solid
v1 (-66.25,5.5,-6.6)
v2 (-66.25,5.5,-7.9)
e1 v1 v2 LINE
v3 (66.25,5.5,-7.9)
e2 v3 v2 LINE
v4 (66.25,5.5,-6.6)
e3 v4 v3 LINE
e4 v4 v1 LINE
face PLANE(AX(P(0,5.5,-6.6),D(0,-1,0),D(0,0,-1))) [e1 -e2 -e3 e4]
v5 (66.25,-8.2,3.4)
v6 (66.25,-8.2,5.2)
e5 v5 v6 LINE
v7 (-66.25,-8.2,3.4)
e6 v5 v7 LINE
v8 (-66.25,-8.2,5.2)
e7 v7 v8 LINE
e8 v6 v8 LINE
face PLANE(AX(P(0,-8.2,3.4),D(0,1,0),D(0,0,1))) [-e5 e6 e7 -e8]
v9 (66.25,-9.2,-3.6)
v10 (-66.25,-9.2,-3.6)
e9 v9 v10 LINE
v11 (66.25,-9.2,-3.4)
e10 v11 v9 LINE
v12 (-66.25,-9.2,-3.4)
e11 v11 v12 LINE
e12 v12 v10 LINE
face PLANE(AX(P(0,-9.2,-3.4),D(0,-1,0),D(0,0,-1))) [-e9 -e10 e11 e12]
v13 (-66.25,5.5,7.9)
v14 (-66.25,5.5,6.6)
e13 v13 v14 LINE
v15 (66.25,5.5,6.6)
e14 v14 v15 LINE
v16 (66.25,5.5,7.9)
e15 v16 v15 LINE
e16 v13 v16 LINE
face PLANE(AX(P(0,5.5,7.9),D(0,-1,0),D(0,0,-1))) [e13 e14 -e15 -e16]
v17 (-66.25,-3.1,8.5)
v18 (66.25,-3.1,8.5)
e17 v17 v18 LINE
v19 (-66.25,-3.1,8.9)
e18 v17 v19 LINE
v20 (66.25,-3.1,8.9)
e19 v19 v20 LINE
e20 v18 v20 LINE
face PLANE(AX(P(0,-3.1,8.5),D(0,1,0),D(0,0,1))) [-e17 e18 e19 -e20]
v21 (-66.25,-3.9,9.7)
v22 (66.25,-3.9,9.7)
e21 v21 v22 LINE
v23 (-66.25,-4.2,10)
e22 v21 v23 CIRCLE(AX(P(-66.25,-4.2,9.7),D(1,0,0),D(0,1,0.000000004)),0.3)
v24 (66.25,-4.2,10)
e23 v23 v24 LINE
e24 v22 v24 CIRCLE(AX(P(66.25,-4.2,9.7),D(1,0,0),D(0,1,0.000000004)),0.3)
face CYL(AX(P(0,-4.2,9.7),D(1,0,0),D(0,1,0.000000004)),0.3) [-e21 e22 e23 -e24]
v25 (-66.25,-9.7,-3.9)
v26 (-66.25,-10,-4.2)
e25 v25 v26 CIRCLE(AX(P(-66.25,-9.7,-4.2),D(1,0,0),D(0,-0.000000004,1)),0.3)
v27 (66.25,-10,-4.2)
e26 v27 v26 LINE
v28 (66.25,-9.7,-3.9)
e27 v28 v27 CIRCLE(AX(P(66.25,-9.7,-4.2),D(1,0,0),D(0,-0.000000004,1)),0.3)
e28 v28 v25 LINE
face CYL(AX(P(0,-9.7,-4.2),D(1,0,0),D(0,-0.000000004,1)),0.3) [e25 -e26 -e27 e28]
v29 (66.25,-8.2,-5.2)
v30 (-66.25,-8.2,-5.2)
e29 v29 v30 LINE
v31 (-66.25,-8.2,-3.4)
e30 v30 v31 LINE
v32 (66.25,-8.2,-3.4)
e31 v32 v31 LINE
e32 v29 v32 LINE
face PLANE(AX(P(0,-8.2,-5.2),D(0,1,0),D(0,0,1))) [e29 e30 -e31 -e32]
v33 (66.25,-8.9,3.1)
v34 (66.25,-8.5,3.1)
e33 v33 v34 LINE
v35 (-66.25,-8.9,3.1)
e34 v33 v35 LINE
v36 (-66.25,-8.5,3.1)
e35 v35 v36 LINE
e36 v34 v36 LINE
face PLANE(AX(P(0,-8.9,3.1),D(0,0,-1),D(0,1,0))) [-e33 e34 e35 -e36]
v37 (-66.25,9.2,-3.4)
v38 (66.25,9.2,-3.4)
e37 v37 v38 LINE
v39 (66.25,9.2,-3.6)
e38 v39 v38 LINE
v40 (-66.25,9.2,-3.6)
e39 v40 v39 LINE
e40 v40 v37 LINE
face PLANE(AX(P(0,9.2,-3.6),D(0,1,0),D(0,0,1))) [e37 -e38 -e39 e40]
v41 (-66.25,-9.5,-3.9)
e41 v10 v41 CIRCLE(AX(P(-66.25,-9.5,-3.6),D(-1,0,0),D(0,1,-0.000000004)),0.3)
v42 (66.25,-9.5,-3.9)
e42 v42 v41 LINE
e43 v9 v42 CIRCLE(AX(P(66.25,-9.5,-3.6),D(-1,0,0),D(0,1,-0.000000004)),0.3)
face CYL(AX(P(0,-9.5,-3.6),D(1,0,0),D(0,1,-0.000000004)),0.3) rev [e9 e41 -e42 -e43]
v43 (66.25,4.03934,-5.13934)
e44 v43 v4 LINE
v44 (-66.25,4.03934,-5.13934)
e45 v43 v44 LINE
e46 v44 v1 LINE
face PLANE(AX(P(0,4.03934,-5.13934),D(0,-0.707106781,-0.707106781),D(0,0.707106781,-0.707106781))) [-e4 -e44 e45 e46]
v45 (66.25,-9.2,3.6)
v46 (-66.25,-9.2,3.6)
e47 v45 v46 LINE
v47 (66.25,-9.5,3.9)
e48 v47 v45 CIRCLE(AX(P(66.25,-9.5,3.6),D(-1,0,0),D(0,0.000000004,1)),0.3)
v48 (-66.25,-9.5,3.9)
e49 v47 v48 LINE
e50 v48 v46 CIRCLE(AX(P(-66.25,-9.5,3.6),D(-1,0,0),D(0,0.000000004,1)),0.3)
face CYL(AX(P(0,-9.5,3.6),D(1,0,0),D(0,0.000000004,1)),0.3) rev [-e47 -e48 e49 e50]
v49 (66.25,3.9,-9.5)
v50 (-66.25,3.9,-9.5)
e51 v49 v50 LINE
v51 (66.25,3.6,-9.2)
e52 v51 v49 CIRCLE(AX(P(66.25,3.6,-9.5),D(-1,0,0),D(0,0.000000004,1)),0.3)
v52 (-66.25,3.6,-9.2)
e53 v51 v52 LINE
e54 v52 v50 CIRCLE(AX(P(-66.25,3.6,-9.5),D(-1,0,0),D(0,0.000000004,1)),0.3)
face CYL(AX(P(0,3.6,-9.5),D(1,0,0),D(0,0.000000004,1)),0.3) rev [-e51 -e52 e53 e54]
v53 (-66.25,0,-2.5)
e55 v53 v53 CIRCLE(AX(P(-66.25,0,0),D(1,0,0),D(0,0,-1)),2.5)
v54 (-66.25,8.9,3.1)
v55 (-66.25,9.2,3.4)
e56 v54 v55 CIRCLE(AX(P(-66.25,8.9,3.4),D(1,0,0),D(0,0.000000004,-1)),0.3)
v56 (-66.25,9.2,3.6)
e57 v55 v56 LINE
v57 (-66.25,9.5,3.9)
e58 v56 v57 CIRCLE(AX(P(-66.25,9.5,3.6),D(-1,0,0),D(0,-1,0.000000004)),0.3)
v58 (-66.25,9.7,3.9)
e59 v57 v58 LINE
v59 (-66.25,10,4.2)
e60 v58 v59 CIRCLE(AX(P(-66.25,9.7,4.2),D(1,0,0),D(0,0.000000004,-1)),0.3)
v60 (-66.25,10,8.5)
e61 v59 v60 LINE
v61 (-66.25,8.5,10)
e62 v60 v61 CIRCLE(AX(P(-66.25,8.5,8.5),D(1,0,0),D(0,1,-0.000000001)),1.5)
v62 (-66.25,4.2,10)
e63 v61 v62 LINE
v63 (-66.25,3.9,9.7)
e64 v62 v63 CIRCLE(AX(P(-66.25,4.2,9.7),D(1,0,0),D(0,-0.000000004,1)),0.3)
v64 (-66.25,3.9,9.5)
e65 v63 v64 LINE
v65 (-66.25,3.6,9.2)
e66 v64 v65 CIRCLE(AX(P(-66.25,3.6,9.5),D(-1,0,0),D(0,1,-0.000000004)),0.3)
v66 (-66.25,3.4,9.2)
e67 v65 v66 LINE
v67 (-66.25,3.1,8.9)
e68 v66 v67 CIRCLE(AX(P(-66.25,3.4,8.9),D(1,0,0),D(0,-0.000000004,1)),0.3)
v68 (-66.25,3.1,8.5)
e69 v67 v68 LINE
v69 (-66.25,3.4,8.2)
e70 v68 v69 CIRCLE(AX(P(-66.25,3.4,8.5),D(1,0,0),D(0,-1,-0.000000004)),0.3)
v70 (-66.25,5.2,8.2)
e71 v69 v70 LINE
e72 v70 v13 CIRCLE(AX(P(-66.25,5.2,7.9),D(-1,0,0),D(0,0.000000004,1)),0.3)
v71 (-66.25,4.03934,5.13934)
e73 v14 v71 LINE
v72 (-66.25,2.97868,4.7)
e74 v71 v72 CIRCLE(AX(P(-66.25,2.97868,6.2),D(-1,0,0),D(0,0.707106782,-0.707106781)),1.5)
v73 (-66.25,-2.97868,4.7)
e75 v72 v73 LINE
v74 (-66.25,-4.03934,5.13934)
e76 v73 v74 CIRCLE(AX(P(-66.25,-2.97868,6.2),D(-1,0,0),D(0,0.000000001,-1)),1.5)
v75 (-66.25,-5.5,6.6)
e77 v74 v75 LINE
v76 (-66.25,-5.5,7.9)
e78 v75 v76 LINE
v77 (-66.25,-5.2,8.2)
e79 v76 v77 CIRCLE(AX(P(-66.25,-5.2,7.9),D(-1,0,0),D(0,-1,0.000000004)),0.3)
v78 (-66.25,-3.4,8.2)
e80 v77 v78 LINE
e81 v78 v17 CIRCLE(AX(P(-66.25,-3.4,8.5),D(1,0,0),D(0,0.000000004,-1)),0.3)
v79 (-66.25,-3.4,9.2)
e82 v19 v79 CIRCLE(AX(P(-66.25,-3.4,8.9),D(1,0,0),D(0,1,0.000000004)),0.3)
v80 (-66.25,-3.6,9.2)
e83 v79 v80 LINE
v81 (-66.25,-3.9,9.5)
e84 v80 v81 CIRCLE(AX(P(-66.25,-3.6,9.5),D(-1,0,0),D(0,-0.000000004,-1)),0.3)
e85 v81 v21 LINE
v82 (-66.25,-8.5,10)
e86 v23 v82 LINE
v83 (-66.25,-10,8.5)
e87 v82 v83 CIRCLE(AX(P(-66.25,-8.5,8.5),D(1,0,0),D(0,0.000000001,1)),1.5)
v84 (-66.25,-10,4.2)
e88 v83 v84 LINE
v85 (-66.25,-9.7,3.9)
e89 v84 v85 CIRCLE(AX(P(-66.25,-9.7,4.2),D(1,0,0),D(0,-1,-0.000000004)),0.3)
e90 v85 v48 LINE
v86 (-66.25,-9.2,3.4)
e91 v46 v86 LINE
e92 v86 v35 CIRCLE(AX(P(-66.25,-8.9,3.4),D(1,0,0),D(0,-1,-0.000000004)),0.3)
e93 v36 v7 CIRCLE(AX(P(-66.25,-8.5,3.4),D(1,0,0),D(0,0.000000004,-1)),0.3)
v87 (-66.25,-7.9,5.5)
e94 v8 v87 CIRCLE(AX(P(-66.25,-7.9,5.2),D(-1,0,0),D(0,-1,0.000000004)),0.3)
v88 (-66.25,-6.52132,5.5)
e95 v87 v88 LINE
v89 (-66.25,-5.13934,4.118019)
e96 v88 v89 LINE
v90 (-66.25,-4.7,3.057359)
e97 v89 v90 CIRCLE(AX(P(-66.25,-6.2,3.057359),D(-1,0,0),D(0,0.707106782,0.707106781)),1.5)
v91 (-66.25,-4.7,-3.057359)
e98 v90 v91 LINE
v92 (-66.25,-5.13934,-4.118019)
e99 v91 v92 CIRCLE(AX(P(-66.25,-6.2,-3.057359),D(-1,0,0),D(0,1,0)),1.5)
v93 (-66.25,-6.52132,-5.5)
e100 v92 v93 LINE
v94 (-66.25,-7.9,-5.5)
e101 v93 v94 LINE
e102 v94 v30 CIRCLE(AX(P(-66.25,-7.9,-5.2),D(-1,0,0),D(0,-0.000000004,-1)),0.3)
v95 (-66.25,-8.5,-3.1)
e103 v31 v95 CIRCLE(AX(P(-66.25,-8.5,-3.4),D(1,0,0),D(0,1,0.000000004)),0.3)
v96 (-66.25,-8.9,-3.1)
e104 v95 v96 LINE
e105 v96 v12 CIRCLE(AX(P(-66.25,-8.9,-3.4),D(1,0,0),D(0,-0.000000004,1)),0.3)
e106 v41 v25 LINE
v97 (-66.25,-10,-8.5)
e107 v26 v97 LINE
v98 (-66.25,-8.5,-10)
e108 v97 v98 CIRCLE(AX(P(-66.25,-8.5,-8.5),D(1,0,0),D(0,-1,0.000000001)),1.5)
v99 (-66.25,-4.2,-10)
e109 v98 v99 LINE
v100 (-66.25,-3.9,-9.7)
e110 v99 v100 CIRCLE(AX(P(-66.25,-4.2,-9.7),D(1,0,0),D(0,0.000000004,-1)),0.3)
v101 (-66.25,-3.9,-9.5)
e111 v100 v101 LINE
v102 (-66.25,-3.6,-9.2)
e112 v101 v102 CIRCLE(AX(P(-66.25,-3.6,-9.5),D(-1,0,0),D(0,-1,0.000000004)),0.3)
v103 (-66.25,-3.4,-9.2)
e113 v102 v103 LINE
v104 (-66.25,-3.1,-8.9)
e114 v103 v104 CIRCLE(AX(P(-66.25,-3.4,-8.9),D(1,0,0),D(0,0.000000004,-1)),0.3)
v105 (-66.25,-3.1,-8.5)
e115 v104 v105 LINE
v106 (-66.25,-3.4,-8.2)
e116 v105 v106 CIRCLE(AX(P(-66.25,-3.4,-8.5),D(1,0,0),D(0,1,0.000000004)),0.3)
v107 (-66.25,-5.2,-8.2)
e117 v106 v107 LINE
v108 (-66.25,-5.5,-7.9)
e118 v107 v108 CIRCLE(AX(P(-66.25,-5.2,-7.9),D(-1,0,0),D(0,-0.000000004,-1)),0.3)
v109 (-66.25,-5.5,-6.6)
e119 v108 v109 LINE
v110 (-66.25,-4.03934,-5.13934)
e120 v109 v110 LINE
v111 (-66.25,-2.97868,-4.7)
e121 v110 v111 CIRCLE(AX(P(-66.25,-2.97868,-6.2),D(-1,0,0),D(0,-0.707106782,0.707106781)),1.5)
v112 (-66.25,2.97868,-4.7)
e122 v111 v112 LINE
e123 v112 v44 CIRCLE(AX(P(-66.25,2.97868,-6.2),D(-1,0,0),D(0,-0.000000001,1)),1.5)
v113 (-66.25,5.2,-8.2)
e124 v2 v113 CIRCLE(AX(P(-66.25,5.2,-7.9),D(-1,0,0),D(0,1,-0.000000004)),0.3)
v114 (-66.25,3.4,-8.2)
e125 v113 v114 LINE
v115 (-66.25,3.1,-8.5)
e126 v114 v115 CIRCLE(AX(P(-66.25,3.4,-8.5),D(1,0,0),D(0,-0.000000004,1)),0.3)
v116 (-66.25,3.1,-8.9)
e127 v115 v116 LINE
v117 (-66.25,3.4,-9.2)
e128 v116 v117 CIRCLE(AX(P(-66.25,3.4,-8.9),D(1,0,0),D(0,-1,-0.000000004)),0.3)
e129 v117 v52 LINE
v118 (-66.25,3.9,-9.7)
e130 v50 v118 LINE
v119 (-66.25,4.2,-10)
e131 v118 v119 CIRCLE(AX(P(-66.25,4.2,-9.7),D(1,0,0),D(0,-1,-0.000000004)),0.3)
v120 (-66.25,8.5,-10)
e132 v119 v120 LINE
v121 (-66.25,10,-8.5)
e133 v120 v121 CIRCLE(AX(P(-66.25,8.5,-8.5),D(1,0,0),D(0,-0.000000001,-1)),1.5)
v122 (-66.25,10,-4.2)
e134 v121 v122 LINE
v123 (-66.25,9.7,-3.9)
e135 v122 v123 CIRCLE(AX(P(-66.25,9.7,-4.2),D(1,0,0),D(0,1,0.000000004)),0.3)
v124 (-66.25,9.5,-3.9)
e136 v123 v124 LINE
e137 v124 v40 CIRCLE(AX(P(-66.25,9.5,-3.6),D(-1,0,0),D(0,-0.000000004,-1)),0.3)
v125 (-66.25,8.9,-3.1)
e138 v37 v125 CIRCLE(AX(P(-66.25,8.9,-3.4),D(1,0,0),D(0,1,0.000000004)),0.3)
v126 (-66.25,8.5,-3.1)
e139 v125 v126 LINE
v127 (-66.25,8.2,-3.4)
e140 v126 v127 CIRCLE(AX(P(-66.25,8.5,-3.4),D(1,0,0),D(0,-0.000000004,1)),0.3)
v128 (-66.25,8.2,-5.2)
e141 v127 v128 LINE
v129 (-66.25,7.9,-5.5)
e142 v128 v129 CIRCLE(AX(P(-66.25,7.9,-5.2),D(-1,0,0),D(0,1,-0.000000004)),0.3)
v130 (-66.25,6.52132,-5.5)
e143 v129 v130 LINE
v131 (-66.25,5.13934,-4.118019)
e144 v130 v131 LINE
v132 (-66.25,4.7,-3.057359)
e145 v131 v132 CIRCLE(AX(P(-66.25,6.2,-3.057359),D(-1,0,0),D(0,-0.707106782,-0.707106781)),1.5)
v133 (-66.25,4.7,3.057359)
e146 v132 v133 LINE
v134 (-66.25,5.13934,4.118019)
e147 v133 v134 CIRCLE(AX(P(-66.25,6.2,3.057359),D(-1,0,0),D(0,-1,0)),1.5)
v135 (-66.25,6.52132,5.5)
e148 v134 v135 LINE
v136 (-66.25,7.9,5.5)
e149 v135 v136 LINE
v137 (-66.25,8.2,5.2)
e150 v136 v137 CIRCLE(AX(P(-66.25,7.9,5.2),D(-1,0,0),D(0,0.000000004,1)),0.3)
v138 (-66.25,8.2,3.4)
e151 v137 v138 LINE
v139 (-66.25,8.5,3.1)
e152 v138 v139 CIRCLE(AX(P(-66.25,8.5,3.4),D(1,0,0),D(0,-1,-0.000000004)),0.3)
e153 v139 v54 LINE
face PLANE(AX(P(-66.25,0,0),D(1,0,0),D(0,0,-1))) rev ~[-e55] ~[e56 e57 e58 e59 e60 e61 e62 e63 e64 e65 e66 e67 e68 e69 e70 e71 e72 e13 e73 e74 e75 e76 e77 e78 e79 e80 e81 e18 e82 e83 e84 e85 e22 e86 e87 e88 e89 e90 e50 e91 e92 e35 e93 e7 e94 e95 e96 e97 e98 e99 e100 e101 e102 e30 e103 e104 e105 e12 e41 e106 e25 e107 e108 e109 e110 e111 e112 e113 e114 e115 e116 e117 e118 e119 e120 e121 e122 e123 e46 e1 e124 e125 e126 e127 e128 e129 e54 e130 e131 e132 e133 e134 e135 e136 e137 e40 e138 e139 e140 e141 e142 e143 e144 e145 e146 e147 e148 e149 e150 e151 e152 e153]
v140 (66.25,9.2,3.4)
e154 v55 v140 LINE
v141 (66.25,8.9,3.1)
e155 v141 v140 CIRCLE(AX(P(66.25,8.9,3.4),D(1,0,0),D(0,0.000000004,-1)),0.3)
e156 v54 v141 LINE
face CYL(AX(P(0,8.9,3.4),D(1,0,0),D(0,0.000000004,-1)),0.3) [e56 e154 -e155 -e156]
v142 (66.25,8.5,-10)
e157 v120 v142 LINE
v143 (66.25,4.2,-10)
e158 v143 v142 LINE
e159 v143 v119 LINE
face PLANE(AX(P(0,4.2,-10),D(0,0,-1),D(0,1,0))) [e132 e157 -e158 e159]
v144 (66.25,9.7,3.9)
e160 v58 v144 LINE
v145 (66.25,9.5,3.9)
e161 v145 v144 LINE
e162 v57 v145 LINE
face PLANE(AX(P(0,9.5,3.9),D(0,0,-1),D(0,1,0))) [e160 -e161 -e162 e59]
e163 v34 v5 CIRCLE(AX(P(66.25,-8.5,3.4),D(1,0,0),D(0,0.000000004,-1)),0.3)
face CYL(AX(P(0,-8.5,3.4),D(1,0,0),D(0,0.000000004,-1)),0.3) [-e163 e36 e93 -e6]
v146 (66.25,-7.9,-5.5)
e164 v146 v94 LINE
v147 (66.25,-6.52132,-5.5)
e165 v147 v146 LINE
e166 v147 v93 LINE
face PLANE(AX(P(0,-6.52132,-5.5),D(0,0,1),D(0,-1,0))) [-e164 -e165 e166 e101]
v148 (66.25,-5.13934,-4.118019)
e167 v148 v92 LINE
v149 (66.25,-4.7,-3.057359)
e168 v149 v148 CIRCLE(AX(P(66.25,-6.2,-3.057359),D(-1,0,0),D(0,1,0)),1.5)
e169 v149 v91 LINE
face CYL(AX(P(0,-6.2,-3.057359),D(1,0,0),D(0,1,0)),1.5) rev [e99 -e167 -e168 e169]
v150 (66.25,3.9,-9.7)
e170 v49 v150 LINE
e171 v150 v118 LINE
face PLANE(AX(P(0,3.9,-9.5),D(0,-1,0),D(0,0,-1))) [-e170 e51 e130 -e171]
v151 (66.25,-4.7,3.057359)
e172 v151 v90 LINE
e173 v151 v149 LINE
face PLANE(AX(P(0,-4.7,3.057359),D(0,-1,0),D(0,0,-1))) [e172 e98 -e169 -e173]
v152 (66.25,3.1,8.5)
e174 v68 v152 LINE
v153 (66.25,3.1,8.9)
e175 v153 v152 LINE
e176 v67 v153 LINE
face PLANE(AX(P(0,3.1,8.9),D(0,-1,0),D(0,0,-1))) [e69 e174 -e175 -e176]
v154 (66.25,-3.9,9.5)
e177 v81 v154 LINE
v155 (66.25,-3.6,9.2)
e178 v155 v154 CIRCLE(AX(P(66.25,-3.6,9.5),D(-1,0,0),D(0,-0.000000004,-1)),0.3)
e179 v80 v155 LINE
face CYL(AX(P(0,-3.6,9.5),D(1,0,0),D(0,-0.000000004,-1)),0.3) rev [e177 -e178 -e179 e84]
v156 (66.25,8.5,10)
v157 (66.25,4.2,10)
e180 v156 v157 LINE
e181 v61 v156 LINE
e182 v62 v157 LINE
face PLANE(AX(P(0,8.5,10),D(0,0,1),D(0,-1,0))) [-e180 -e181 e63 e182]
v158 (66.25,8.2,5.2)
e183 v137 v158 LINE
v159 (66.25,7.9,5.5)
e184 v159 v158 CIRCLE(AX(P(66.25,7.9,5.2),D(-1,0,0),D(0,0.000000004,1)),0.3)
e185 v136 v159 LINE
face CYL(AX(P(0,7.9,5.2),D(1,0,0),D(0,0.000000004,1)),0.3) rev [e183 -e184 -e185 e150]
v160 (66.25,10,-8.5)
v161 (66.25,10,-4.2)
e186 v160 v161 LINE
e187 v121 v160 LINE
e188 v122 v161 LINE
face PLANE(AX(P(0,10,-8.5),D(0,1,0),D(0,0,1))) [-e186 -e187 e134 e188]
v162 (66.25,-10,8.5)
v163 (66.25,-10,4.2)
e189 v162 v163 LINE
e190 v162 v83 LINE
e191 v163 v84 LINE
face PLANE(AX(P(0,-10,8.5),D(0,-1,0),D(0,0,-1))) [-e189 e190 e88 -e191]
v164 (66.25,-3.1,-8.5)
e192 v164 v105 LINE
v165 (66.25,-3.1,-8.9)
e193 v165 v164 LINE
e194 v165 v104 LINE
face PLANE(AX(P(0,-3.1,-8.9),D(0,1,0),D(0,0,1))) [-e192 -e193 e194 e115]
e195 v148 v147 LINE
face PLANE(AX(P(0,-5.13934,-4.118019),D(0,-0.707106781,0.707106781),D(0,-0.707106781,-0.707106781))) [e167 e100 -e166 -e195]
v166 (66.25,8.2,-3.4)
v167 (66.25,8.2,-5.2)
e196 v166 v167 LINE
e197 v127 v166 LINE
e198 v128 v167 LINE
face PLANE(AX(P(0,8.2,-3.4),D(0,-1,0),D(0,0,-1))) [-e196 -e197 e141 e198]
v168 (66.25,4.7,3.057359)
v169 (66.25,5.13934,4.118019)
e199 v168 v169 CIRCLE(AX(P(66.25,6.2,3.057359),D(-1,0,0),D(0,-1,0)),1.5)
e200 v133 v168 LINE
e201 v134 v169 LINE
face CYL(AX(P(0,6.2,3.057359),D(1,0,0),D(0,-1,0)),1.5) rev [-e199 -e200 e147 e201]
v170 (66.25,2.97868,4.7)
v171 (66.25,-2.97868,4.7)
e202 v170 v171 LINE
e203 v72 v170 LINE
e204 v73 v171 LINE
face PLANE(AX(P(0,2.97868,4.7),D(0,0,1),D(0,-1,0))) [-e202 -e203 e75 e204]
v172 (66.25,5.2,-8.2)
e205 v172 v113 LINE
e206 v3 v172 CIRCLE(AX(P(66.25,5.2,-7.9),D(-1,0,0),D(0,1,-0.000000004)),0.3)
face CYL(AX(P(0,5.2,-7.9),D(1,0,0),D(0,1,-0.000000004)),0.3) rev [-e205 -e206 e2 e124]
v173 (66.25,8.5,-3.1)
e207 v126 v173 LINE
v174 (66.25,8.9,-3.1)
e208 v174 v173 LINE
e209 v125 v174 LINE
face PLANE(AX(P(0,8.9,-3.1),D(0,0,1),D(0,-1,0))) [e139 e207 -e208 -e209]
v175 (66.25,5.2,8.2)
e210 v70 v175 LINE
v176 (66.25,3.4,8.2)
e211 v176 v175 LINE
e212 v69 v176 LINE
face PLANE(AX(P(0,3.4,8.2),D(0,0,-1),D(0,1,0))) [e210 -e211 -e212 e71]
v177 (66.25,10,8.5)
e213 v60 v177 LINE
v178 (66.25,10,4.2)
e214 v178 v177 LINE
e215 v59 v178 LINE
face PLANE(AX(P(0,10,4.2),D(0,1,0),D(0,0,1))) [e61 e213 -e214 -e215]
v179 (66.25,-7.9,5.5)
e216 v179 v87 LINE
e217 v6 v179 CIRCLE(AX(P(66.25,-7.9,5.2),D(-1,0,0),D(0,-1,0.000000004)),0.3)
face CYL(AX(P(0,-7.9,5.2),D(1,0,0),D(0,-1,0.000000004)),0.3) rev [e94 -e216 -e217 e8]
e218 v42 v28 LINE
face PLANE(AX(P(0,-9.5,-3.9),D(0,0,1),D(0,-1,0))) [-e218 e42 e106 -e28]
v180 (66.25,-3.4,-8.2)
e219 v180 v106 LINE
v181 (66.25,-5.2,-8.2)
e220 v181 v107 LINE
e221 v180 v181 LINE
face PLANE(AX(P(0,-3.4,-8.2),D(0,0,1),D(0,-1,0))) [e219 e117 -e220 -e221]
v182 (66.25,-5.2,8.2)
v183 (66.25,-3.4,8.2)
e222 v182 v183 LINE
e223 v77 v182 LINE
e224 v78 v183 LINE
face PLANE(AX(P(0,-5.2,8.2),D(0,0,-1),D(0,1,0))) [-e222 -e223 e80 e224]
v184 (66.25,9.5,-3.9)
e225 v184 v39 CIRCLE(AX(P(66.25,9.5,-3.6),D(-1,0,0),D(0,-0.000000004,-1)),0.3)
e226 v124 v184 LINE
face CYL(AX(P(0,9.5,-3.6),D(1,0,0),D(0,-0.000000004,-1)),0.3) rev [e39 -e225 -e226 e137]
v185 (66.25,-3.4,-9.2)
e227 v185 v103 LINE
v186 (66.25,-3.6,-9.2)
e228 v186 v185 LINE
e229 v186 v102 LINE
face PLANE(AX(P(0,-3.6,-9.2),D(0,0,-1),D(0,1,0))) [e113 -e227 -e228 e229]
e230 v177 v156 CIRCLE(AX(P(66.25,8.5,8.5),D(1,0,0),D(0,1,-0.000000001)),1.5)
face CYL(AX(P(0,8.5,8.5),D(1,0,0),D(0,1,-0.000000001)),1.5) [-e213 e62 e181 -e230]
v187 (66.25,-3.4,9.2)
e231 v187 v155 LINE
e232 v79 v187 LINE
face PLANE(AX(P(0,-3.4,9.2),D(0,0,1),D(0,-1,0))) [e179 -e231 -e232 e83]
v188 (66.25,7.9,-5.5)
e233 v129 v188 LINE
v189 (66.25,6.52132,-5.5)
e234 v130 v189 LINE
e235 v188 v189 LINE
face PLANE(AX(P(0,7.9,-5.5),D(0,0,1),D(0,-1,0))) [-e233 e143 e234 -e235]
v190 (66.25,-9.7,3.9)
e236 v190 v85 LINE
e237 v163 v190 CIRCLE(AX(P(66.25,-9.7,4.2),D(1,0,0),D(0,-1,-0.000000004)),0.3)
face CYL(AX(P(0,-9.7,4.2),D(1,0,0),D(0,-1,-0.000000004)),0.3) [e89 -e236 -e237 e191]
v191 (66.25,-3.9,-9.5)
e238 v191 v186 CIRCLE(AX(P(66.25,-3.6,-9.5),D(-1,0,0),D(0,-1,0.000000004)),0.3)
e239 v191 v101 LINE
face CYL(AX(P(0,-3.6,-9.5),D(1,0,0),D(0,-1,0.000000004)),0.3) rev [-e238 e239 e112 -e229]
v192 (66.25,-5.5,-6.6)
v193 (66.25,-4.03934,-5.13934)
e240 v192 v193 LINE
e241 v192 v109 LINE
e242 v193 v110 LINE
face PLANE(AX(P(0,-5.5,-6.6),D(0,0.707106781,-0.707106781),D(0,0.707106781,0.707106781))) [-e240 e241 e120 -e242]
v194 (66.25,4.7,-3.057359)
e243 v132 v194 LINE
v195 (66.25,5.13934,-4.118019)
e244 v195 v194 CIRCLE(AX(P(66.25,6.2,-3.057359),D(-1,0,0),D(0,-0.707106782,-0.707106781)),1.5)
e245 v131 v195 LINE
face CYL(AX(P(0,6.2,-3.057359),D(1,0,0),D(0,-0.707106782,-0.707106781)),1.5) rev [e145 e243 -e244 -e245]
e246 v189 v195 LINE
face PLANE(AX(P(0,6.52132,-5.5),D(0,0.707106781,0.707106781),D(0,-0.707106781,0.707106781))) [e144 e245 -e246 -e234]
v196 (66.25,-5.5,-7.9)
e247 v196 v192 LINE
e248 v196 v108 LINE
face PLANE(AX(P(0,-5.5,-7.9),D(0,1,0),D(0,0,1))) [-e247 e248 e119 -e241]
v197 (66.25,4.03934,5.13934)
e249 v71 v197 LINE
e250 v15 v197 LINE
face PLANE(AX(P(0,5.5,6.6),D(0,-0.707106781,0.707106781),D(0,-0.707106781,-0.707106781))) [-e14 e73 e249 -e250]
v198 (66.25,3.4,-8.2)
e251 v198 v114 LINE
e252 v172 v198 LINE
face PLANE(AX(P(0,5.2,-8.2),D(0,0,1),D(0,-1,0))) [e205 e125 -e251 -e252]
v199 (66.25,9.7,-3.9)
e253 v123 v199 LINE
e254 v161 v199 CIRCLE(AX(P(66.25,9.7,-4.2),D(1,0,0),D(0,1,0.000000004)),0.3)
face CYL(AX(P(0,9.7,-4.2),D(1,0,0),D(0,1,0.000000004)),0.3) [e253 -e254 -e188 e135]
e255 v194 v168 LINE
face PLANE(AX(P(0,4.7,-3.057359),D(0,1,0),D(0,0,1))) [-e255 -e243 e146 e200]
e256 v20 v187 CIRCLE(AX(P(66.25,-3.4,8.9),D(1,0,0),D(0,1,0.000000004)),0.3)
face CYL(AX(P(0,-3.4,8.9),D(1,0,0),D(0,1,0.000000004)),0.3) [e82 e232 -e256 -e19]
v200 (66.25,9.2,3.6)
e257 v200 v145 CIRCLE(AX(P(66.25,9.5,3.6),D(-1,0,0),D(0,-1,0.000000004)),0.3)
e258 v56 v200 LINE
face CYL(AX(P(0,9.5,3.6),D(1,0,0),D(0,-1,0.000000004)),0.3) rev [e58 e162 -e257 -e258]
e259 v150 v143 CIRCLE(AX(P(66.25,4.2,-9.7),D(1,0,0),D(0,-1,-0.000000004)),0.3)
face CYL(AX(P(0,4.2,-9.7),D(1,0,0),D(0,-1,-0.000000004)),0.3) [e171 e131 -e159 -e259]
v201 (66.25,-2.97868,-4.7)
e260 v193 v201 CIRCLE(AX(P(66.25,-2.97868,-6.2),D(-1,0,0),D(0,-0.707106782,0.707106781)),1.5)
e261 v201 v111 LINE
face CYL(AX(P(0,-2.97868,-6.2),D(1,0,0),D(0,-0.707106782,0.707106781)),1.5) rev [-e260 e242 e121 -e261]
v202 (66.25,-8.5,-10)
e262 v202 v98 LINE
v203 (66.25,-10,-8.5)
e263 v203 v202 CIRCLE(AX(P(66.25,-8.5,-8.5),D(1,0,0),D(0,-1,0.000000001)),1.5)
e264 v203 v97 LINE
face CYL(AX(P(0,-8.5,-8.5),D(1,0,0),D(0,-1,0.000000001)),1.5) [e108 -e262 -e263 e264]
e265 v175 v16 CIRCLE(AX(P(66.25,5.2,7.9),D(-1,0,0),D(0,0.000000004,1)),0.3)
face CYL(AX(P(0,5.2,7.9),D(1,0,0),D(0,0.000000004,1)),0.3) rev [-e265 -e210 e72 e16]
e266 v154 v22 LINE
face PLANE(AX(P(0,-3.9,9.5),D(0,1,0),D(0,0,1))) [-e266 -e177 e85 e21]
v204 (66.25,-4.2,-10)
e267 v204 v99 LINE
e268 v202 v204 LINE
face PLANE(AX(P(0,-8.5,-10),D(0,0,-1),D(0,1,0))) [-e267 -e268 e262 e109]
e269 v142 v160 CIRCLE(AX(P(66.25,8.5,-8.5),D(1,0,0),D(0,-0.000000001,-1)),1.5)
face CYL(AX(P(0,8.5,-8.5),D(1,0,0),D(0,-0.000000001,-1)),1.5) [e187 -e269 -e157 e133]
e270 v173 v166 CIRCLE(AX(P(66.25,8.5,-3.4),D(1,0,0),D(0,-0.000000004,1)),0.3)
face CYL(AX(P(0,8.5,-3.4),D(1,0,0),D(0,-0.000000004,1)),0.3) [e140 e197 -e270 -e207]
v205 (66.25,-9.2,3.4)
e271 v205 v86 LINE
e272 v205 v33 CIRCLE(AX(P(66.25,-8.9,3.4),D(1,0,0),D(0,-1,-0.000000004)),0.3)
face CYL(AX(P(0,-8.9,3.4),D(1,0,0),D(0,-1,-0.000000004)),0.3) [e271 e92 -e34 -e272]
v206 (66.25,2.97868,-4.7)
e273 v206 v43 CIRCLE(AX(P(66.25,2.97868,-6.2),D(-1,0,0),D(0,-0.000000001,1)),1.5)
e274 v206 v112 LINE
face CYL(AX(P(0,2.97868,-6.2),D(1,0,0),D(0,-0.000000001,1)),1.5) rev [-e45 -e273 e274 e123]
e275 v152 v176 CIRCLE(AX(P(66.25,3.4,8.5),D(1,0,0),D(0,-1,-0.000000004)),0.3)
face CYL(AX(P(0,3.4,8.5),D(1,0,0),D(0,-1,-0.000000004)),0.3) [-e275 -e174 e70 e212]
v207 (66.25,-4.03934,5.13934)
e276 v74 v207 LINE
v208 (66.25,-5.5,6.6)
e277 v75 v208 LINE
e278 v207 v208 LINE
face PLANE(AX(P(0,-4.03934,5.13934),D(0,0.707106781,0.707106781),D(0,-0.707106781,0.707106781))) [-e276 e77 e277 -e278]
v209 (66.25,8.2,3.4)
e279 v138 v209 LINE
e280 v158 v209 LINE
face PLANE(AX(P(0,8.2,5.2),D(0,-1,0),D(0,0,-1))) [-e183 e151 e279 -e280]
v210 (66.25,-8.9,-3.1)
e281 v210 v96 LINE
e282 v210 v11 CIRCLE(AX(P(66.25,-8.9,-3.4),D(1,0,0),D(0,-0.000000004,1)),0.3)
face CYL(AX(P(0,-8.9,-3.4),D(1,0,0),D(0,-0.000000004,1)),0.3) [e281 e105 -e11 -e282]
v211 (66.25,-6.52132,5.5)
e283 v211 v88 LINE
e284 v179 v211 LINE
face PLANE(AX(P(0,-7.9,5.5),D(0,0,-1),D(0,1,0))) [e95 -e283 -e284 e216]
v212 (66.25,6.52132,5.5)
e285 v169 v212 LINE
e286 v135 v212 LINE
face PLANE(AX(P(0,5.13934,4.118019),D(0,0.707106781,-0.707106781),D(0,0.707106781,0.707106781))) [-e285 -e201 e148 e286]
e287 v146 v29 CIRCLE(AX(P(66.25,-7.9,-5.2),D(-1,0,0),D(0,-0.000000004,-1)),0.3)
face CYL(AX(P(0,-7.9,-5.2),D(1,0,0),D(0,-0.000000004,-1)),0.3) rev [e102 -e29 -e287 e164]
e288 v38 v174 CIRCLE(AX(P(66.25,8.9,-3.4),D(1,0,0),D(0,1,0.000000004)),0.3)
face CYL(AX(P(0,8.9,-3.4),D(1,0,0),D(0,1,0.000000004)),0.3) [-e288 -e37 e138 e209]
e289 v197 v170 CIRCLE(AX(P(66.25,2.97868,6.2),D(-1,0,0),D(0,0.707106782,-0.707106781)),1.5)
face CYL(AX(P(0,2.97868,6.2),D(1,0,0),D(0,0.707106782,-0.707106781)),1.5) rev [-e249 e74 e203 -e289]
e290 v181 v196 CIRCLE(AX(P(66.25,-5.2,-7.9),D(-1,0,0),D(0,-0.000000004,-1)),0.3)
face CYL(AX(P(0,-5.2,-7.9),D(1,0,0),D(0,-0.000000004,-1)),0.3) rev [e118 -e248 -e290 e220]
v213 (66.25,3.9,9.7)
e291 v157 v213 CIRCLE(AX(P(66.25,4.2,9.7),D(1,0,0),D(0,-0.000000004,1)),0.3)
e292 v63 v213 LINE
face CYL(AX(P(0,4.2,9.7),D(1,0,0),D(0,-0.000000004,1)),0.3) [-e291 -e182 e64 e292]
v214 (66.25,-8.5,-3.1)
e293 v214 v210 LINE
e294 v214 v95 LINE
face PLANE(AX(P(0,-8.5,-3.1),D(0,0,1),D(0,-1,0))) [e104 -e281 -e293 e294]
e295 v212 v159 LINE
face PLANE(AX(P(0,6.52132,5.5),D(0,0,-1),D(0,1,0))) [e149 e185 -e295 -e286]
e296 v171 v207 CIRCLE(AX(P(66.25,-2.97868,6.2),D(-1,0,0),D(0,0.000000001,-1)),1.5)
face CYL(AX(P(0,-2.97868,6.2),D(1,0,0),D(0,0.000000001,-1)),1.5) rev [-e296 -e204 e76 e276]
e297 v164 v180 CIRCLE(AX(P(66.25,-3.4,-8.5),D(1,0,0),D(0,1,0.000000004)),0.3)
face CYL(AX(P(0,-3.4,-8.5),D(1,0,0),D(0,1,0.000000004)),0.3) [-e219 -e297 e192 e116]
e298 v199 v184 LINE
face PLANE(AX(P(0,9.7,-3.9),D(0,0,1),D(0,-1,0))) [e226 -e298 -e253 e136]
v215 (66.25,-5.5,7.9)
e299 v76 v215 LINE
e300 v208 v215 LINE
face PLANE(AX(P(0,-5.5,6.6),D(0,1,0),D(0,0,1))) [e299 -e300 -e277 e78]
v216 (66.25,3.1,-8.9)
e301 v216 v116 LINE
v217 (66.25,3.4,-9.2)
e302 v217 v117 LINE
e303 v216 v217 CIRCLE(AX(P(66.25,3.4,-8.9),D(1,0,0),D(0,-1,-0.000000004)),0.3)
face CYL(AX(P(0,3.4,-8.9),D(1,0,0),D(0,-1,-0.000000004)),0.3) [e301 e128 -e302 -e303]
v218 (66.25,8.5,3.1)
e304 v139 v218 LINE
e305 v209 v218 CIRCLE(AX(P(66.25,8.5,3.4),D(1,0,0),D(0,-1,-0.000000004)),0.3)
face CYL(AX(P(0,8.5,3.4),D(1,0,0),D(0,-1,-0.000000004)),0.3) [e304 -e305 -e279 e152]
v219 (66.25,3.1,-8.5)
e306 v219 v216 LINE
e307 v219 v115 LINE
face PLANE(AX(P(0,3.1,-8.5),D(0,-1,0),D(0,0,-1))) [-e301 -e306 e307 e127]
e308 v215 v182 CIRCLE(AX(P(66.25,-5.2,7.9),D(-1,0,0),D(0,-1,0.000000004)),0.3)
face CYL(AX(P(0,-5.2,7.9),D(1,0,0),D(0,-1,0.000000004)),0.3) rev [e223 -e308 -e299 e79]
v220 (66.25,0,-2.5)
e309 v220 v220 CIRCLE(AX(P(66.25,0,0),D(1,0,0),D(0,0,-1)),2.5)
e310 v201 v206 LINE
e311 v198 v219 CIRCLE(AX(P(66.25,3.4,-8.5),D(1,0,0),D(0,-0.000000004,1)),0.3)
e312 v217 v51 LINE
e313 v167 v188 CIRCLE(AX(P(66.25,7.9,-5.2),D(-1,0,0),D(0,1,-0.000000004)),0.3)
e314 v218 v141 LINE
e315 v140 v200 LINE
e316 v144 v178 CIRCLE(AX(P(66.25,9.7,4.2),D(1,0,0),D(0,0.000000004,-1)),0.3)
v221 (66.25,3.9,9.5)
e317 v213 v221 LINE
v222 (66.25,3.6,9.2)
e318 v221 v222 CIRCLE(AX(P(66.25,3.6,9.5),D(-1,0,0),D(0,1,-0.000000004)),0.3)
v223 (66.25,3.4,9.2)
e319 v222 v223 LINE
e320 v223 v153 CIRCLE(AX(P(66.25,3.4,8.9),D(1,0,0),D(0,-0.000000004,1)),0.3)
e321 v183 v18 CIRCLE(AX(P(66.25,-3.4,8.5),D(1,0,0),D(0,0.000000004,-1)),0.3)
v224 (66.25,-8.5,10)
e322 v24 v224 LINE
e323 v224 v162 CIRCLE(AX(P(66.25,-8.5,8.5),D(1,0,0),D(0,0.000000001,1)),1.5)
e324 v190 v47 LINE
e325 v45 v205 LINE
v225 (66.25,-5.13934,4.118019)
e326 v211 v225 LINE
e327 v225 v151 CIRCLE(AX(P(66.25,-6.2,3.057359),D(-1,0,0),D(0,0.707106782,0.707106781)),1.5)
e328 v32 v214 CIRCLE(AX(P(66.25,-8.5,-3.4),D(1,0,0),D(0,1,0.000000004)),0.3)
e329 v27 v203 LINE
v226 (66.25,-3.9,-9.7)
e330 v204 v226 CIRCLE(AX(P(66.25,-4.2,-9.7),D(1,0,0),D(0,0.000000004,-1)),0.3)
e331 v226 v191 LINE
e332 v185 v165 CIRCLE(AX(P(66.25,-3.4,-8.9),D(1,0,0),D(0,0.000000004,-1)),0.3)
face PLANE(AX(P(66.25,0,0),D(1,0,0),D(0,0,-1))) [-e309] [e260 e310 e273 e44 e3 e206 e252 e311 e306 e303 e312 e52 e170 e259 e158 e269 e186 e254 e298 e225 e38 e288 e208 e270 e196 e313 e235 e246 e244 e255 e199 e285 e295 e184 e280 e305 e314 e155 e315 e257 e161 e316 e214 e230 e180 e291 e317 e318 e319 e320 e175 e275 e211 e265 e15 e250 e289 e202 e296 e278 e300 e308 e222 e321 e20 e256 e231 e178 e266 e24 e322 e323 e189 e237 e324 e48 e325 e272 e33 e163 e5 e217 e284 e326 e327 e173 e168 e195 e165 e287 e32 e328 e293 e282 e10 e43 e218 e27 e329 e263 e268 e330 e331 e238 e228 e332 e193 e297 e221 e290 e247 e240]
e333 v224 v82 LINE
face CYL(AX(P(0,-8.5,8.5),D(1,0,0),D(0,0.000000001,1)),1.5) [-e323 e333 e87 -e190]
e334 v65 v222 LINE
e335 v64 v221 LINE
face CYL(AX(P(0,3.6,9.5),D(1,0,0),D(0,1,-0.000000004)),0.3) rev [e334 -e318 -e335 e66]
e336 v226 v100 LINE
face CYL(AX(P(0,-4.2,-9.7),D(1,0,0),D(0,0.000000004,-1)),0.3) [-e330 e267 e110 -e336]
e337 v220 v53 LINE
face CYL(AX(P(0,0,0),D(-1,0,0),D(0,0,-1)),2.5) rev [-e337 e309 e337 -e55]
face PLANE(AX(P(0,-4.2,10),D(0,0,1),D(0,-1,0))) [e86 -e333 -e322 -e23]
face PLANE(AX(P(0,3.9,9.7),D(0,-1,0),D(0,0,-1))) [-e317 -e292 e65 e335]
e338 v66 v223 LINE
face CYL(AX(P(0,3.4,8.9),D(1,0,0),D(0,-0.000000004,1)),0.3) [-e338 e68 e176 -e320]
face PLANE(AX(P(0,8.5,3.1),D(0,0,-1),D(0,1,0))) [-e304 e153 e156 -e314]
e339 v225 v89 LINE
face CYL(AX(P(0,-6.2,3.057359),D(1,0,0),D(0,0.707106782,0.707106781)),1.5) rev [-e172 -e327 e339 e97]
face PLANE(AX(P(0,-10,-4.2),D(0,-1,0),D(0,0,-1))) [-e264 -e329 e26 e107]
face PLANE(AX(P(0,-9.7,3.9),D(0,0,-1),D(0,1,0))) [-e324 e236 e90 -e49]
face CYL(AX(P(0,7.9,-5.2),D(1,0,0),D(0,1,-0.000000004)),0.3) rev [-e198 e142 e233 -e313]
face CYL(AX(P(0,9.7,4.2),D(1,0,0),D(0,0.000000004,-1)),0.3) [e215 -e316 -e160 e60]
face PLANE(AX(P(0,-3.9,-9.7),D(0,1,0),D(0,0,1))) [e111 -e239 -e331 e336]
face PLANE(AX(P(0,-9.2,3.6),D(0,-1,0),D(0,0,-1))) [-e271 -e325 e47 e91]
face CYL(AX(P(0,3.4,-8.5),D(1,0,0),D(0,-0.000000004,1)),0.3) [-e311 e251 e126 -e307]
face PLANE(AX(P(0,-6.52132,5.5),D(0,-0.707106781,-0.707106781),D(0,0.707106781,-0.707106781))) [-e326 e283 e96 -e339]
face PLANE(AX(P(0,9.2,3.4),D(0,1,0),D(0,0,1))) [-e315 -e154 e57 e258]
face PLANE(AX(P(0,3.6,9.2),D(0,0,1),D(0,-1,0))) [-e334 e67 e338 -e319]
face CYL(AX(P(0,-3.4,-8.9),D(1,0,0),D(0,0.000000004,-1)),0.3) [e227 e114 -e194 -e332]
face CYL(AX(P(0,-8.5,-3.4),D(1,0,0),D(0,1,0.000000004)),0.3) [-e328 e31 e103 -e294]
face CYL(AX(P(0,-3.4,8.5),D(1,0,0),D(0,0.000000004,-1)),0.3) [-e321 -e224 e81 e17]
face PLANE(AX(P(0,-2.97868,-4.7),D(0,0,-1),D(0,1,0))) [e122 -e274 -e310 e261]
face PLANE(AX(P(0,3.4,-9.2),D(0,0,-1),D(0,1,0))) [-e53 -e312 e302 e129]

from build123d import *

# Parameters (mm, degrees)
SKETCH1_R           = 2.5
BOSS_EXTRUDE2_DEPTH = 66.25


with BuildPart() as part:
    # Sketch1 → Boss-Extrude2 (new, symmetric)
    with BuildSketch(Plane(origin=(0, 0, 0), x_dir=(0, 0, -1), z_dir=(1, 0, 0))):
        with BuildLine():
            Line((10, 4.2), (10, 8.5))
            ThreePointArc((10, 8.5), (9.560660172, 9.560660172), (8.5, 10))
            Line((8.5, 10), (4.2, 10))
            ThreePointArc((4.2, 10), (3.987867966, 9.912132034), (3.9, 9.7))
            Line((3.9, 9.7), (3.9, 9.5))
            ThreePointArc((3.9, 9.5), (3.812132034, 9.287867966), (3.6, 9.2))
            Line((3.6, 9.2), (3.4, 9.2))
            ThreePointArc((3.4, 9.2), (3.187867966, 9.112132034), (3.1, 8.9))
            Line((3.1, 8.9), (3.1, 8.5))
            ThreePointArc((3.1, 8.5), (3.187867966, 8.287867966), (3.4, 8.2))
            Line((3.4, 8.2), (5.2, 8.2))
            ThreePointArc((5.2, 8.2), (5.412132034, 8.112132034), (5.5, 7.9))
            Line((5.5, 7.9), (5.5, 6.521320344))
            Line((5.5, 6.521320344), (4.118019485, 5.139339828))
            ThreePointArc((4.118019485, 5.139339828), (3.631384461, 4.814180701), (3.057359313, 4.7))
            Line((3.057359313, 4.7), (-3.057359313, 4.7))
            ThreePointArc((-3.057359313, 4.7), (-3.631384461, 4.814180701), (-4.118019485, 5.139339828))
            Line((-4.118019485, 5.139339828), (-5.5, 6.521320344))
            Line((-5.5, 6.521320344), (-5.5, 7.9))
            ThreePointArc((-5.5, 7.9), (-5.412132034, 8.112132034), (-5.2, 8.2))
            Line((-5.2, 8.2), (-3.4, 8.2))
            ThreePointArc((-3.4, 8.2), (-3.187867966, 8.287867966), (-3.1, 8.5))
            Line((-3.1, 8.5), (-3.1, 8.9))
            ThreePointArc((-3.1, 8.9), (-3.187867966, 9.112132034), (-3.4, 9.2))
            Line((-3.4, 9.2), (-3.6, 9.2))
            ThreePointArc((-3.6, 9.2), (-3.812132034, 9.287867966), (-3.9, 9.5))
            Line((-3.9, 9.5), (-3.9, 9.7))
            ThreePointArc((-3.9, 9.7), (-3.987867966, 9.912132034), (-4.2, 10))
            Line((-4.2, 10), (-8.5, 10))
            ThreePointArc((-8.5, 10), (-9.560660172, 9.560660172), (-10, 8.5))
            Line((-10, 8.5), (-10, 4.2))
            ThreePointArc((-10, 4.2), (-9.912132034, 3.987867966), (-9.7, 3.9))
            Line((-9.7, 3.9), (-9.5, 3.9))
            ThreePointArc((-9.5, 3.9), (-9.287867966, 3.812132034), (-9.2, 3.6))
            Line((-9.2, 3.6), (-9.2, 3.4))
            ThreePointArc((-9.2, 3.4), (-9.112132034, 3.187867966), (-8.9, 3.1))
            Line((-8.9, 3.1), (-8.5, 3.1))
            ThreePointArc((-8.5, 3.1), (-8.287867966, 3.187867966), (-8.2, 3.4))
            Line((-8.2, 3.4), (-8.2, 5.2))
            ThreePointArc((-8.2, 5.2), (-8.112132034, 5.412132034), (-7.9, 5.5))
            Line((-7.9, 5.5), (-6.6, 5.5))
            Line((-6.6, 5.5), (-5.139339828, 4.039339828))
            ThreePointArc((-5.139339828, 4.039339828), (-4.814180701, 3.552704805), (-4.7, 2.978679656))
            Line((-4.7, 2.978679656), (-4.7, -2.978679656))
            ThreePointArc((-4.7, -2.978679656), (-4.814180701, -3.552704805), (-5.139339828, -4.039339828))
            Line((-5.139339828, -4.039339828), (-6.6, -5.5))
            Line((-6.6, -5.5), (-7.9, -5.5))
            ThreePointArc((-7.9, -5.5), (-8.112132034, -5.412132034), (-8.2, -5.2))
            Line((-8.2, -5.2), (-8.2, -3.4))
            ThreePointArc((-8.2, -3.4), (-8.287867966, -3.187867966), (-8.5, -3.1))
            Line((-8.5, -3.1), (-8.9, -3.1))
            ThreePointArc((-8.9, -3.1), (-9.112132034, -3.187867966), (-9.2, -3.4))
            Line((-9.2, -3.4), (-9.2, -3.6))
            ThreePointArc((-9.2, -3.6), (-9.287867966, -3.812132034), (-9.5, -3.9))
            Line((-9.5, -3.9), (-9.7, -3.9))
            ThreePointArc((-9.7, -3.9), (-9.912132034, -3.987867966), (-10, -4.2))
            Line((-10, -4.2), (-10, -8.5))
            ThreePointArc((-10, -8.5), (-9.560660172, -9.560660172), (-8.5, -10))
            Line((-8.5, -10), (-4.2, -10))
            ThreePointArc((-4.2, -10), (-3.987867966, -9.912132034), (-3.9, -9.7))
            Line((-3.9, -9.7), (-3.9, -9.5))
            ThreePointArc((-3.9, -9.5), (-3.812132034, -9.287867966), (-3.6, -9.2))
            Line((-3.6, -9.2), (-3.4, -9.2))
            ThreePointArc((-3.4, -9.2), (-3.187867966, -9.112132034), (-3.1, -8.9))
            Line((-3.1, -8.9), (-3.1, -8.5))
            ThreePointArc((-3.1, -8.5), (-3.187867966, -8.287867966), (-3.4, -8.2))
            Line((-3.4, -8.2), (-5.2, -8.2))
            ThreePointArc((-5.2, -8.2), (-5.412132034, -8.112132034), (-5.5, -7.9))
            Line((-5.5, -7.9), (-5.5, -6.521320344))
            Line((-5.5, -6.521320344), (-4.118019485, -5.139339828))
            ThreePointArc((-4.118019485, -5.139339828), (-3.631384461, -4.814180701), (-3.057359313, -4.7))
            Line((-3.057359313, -4.7), (3.057359313, -4.7))
            ThreePointArc((3.057359313, -4.7), (3.631384461, -4.814180701), (4.118019485, -5.139339828))
            Line((4.118019485, -5.139339828), (5.5, -6.521320344))
            Line((5.5, -6.521320344), (5.5, -7.9))
            ThreePointArc((5.5, -7.9), (5.412132034, -8.112132034), (5.2, -8.2))
            Line((5.2, -8.2), (3.4, -8.2))
            ThreePointArc((3.4, -8.2), (3.187867966, -8.287867966), (3.1, -8.5))
            Line((3.1, -8.5), (3.1, -8.9))
            ThreePointArc((3.1, -8.9), (3.187867966, -9.112132034), (3.4, -9.2))
            Line((3.4, -9.2), (3.6, -9.2))
            ThreePointArc((3.6, -9.2), (3.812132034, -9.287867966), (3.9, -9.5))
            Line((3.9, -9.5), (3.9, -9.7))
            ThreePointArc((3.9, -9.7), (3.987867966, -9.912132034), (4.2, -10))
            Line((4.2, -10), (8.5, -10))
            ThreePointArc((8.5, -10), (9.560660172, -9.560660172), (10, -8.5))
            Line((10, -8.5), (10, -4.2))
            ThreePointArc((10, -4.2), (9.912132034, -3.987867966), (9.7, -3.9))
            Line((9.7, -3.9), (9.5, -3.9))
            ThreePointArc((9.5, -3.9), (9.287867966, -3.812132034), (9.2, -3.6))
            Line((9.2, -3.6), (9.2, -3.4))
            ThreePointArc((9.2, -3.4), (9.112132034, -3.187867966), (8.9, -3.1))
            Line((8.9, -3.1), (8.5, -3.1))
            ThreePointArc((8.5, -3.1), (8.287867966, -3.187867966), (8.2, -3.4))
            Line((8.2, -3.4), (8.2, -5.2))
            ThreePointArc((8.2, -5.2), (8.112132034, -5.412132034), (7.9, -5.5))
            Line((7.9, -5.5), (6.6, -5.5))
            Line((6.6, -5.5), (5.139339828, -4.039339828))
            ThreePointArc((5.139339828, -4.039339828), (4.814180701, -3.552704805), (4.7, -2.978679656))
            Line((4.7, -2.978679656), (4.7, 2.978679656))
            ThreePointArc((4.7, 2.978679656), (4.814180701, 3.552704805), (5.139339828, 4.039339828))
            Line((5.139339828, 4.039339828), (6.6, 5.5))
            Line((6.6, 5.5), (7.9, 5.5))
            ThreePointArc((7.9, 5.5), (8.112132034, 5.412132034), (8.2, 5.2))
            Line((8.2, 5.2), (8.2, 3.4))
            ThreePointArc((8.2, 3.4), (8.287867966, 3.187867966), (8.5, 3.1))
            Line((8.5, 3.1), (8.9, 3.1))
            ThreePointArc((8.9, 3.1), (9.112132034, 3.187867966), (9.2, 3.4))
            Line((9.2, 3.4), (9.2, 3.6))
            ThreePointArc((9.2, 3.6), (9.287867966, 3.812132034), (9.5, 3.9))
            Line((9.5, 3.9), (9.7, 3.9))
            ThreePointArc((9.7, 3.9), (9.912132034, 3.987867966), (10, 4.2))
        make_face()
        Circle(SKETCH1_R, mode=Mode.SUBTRACT)
    extrude(amount=BOSS_EXTRUDE2_DEPTH, both=True)


solid = part.part
